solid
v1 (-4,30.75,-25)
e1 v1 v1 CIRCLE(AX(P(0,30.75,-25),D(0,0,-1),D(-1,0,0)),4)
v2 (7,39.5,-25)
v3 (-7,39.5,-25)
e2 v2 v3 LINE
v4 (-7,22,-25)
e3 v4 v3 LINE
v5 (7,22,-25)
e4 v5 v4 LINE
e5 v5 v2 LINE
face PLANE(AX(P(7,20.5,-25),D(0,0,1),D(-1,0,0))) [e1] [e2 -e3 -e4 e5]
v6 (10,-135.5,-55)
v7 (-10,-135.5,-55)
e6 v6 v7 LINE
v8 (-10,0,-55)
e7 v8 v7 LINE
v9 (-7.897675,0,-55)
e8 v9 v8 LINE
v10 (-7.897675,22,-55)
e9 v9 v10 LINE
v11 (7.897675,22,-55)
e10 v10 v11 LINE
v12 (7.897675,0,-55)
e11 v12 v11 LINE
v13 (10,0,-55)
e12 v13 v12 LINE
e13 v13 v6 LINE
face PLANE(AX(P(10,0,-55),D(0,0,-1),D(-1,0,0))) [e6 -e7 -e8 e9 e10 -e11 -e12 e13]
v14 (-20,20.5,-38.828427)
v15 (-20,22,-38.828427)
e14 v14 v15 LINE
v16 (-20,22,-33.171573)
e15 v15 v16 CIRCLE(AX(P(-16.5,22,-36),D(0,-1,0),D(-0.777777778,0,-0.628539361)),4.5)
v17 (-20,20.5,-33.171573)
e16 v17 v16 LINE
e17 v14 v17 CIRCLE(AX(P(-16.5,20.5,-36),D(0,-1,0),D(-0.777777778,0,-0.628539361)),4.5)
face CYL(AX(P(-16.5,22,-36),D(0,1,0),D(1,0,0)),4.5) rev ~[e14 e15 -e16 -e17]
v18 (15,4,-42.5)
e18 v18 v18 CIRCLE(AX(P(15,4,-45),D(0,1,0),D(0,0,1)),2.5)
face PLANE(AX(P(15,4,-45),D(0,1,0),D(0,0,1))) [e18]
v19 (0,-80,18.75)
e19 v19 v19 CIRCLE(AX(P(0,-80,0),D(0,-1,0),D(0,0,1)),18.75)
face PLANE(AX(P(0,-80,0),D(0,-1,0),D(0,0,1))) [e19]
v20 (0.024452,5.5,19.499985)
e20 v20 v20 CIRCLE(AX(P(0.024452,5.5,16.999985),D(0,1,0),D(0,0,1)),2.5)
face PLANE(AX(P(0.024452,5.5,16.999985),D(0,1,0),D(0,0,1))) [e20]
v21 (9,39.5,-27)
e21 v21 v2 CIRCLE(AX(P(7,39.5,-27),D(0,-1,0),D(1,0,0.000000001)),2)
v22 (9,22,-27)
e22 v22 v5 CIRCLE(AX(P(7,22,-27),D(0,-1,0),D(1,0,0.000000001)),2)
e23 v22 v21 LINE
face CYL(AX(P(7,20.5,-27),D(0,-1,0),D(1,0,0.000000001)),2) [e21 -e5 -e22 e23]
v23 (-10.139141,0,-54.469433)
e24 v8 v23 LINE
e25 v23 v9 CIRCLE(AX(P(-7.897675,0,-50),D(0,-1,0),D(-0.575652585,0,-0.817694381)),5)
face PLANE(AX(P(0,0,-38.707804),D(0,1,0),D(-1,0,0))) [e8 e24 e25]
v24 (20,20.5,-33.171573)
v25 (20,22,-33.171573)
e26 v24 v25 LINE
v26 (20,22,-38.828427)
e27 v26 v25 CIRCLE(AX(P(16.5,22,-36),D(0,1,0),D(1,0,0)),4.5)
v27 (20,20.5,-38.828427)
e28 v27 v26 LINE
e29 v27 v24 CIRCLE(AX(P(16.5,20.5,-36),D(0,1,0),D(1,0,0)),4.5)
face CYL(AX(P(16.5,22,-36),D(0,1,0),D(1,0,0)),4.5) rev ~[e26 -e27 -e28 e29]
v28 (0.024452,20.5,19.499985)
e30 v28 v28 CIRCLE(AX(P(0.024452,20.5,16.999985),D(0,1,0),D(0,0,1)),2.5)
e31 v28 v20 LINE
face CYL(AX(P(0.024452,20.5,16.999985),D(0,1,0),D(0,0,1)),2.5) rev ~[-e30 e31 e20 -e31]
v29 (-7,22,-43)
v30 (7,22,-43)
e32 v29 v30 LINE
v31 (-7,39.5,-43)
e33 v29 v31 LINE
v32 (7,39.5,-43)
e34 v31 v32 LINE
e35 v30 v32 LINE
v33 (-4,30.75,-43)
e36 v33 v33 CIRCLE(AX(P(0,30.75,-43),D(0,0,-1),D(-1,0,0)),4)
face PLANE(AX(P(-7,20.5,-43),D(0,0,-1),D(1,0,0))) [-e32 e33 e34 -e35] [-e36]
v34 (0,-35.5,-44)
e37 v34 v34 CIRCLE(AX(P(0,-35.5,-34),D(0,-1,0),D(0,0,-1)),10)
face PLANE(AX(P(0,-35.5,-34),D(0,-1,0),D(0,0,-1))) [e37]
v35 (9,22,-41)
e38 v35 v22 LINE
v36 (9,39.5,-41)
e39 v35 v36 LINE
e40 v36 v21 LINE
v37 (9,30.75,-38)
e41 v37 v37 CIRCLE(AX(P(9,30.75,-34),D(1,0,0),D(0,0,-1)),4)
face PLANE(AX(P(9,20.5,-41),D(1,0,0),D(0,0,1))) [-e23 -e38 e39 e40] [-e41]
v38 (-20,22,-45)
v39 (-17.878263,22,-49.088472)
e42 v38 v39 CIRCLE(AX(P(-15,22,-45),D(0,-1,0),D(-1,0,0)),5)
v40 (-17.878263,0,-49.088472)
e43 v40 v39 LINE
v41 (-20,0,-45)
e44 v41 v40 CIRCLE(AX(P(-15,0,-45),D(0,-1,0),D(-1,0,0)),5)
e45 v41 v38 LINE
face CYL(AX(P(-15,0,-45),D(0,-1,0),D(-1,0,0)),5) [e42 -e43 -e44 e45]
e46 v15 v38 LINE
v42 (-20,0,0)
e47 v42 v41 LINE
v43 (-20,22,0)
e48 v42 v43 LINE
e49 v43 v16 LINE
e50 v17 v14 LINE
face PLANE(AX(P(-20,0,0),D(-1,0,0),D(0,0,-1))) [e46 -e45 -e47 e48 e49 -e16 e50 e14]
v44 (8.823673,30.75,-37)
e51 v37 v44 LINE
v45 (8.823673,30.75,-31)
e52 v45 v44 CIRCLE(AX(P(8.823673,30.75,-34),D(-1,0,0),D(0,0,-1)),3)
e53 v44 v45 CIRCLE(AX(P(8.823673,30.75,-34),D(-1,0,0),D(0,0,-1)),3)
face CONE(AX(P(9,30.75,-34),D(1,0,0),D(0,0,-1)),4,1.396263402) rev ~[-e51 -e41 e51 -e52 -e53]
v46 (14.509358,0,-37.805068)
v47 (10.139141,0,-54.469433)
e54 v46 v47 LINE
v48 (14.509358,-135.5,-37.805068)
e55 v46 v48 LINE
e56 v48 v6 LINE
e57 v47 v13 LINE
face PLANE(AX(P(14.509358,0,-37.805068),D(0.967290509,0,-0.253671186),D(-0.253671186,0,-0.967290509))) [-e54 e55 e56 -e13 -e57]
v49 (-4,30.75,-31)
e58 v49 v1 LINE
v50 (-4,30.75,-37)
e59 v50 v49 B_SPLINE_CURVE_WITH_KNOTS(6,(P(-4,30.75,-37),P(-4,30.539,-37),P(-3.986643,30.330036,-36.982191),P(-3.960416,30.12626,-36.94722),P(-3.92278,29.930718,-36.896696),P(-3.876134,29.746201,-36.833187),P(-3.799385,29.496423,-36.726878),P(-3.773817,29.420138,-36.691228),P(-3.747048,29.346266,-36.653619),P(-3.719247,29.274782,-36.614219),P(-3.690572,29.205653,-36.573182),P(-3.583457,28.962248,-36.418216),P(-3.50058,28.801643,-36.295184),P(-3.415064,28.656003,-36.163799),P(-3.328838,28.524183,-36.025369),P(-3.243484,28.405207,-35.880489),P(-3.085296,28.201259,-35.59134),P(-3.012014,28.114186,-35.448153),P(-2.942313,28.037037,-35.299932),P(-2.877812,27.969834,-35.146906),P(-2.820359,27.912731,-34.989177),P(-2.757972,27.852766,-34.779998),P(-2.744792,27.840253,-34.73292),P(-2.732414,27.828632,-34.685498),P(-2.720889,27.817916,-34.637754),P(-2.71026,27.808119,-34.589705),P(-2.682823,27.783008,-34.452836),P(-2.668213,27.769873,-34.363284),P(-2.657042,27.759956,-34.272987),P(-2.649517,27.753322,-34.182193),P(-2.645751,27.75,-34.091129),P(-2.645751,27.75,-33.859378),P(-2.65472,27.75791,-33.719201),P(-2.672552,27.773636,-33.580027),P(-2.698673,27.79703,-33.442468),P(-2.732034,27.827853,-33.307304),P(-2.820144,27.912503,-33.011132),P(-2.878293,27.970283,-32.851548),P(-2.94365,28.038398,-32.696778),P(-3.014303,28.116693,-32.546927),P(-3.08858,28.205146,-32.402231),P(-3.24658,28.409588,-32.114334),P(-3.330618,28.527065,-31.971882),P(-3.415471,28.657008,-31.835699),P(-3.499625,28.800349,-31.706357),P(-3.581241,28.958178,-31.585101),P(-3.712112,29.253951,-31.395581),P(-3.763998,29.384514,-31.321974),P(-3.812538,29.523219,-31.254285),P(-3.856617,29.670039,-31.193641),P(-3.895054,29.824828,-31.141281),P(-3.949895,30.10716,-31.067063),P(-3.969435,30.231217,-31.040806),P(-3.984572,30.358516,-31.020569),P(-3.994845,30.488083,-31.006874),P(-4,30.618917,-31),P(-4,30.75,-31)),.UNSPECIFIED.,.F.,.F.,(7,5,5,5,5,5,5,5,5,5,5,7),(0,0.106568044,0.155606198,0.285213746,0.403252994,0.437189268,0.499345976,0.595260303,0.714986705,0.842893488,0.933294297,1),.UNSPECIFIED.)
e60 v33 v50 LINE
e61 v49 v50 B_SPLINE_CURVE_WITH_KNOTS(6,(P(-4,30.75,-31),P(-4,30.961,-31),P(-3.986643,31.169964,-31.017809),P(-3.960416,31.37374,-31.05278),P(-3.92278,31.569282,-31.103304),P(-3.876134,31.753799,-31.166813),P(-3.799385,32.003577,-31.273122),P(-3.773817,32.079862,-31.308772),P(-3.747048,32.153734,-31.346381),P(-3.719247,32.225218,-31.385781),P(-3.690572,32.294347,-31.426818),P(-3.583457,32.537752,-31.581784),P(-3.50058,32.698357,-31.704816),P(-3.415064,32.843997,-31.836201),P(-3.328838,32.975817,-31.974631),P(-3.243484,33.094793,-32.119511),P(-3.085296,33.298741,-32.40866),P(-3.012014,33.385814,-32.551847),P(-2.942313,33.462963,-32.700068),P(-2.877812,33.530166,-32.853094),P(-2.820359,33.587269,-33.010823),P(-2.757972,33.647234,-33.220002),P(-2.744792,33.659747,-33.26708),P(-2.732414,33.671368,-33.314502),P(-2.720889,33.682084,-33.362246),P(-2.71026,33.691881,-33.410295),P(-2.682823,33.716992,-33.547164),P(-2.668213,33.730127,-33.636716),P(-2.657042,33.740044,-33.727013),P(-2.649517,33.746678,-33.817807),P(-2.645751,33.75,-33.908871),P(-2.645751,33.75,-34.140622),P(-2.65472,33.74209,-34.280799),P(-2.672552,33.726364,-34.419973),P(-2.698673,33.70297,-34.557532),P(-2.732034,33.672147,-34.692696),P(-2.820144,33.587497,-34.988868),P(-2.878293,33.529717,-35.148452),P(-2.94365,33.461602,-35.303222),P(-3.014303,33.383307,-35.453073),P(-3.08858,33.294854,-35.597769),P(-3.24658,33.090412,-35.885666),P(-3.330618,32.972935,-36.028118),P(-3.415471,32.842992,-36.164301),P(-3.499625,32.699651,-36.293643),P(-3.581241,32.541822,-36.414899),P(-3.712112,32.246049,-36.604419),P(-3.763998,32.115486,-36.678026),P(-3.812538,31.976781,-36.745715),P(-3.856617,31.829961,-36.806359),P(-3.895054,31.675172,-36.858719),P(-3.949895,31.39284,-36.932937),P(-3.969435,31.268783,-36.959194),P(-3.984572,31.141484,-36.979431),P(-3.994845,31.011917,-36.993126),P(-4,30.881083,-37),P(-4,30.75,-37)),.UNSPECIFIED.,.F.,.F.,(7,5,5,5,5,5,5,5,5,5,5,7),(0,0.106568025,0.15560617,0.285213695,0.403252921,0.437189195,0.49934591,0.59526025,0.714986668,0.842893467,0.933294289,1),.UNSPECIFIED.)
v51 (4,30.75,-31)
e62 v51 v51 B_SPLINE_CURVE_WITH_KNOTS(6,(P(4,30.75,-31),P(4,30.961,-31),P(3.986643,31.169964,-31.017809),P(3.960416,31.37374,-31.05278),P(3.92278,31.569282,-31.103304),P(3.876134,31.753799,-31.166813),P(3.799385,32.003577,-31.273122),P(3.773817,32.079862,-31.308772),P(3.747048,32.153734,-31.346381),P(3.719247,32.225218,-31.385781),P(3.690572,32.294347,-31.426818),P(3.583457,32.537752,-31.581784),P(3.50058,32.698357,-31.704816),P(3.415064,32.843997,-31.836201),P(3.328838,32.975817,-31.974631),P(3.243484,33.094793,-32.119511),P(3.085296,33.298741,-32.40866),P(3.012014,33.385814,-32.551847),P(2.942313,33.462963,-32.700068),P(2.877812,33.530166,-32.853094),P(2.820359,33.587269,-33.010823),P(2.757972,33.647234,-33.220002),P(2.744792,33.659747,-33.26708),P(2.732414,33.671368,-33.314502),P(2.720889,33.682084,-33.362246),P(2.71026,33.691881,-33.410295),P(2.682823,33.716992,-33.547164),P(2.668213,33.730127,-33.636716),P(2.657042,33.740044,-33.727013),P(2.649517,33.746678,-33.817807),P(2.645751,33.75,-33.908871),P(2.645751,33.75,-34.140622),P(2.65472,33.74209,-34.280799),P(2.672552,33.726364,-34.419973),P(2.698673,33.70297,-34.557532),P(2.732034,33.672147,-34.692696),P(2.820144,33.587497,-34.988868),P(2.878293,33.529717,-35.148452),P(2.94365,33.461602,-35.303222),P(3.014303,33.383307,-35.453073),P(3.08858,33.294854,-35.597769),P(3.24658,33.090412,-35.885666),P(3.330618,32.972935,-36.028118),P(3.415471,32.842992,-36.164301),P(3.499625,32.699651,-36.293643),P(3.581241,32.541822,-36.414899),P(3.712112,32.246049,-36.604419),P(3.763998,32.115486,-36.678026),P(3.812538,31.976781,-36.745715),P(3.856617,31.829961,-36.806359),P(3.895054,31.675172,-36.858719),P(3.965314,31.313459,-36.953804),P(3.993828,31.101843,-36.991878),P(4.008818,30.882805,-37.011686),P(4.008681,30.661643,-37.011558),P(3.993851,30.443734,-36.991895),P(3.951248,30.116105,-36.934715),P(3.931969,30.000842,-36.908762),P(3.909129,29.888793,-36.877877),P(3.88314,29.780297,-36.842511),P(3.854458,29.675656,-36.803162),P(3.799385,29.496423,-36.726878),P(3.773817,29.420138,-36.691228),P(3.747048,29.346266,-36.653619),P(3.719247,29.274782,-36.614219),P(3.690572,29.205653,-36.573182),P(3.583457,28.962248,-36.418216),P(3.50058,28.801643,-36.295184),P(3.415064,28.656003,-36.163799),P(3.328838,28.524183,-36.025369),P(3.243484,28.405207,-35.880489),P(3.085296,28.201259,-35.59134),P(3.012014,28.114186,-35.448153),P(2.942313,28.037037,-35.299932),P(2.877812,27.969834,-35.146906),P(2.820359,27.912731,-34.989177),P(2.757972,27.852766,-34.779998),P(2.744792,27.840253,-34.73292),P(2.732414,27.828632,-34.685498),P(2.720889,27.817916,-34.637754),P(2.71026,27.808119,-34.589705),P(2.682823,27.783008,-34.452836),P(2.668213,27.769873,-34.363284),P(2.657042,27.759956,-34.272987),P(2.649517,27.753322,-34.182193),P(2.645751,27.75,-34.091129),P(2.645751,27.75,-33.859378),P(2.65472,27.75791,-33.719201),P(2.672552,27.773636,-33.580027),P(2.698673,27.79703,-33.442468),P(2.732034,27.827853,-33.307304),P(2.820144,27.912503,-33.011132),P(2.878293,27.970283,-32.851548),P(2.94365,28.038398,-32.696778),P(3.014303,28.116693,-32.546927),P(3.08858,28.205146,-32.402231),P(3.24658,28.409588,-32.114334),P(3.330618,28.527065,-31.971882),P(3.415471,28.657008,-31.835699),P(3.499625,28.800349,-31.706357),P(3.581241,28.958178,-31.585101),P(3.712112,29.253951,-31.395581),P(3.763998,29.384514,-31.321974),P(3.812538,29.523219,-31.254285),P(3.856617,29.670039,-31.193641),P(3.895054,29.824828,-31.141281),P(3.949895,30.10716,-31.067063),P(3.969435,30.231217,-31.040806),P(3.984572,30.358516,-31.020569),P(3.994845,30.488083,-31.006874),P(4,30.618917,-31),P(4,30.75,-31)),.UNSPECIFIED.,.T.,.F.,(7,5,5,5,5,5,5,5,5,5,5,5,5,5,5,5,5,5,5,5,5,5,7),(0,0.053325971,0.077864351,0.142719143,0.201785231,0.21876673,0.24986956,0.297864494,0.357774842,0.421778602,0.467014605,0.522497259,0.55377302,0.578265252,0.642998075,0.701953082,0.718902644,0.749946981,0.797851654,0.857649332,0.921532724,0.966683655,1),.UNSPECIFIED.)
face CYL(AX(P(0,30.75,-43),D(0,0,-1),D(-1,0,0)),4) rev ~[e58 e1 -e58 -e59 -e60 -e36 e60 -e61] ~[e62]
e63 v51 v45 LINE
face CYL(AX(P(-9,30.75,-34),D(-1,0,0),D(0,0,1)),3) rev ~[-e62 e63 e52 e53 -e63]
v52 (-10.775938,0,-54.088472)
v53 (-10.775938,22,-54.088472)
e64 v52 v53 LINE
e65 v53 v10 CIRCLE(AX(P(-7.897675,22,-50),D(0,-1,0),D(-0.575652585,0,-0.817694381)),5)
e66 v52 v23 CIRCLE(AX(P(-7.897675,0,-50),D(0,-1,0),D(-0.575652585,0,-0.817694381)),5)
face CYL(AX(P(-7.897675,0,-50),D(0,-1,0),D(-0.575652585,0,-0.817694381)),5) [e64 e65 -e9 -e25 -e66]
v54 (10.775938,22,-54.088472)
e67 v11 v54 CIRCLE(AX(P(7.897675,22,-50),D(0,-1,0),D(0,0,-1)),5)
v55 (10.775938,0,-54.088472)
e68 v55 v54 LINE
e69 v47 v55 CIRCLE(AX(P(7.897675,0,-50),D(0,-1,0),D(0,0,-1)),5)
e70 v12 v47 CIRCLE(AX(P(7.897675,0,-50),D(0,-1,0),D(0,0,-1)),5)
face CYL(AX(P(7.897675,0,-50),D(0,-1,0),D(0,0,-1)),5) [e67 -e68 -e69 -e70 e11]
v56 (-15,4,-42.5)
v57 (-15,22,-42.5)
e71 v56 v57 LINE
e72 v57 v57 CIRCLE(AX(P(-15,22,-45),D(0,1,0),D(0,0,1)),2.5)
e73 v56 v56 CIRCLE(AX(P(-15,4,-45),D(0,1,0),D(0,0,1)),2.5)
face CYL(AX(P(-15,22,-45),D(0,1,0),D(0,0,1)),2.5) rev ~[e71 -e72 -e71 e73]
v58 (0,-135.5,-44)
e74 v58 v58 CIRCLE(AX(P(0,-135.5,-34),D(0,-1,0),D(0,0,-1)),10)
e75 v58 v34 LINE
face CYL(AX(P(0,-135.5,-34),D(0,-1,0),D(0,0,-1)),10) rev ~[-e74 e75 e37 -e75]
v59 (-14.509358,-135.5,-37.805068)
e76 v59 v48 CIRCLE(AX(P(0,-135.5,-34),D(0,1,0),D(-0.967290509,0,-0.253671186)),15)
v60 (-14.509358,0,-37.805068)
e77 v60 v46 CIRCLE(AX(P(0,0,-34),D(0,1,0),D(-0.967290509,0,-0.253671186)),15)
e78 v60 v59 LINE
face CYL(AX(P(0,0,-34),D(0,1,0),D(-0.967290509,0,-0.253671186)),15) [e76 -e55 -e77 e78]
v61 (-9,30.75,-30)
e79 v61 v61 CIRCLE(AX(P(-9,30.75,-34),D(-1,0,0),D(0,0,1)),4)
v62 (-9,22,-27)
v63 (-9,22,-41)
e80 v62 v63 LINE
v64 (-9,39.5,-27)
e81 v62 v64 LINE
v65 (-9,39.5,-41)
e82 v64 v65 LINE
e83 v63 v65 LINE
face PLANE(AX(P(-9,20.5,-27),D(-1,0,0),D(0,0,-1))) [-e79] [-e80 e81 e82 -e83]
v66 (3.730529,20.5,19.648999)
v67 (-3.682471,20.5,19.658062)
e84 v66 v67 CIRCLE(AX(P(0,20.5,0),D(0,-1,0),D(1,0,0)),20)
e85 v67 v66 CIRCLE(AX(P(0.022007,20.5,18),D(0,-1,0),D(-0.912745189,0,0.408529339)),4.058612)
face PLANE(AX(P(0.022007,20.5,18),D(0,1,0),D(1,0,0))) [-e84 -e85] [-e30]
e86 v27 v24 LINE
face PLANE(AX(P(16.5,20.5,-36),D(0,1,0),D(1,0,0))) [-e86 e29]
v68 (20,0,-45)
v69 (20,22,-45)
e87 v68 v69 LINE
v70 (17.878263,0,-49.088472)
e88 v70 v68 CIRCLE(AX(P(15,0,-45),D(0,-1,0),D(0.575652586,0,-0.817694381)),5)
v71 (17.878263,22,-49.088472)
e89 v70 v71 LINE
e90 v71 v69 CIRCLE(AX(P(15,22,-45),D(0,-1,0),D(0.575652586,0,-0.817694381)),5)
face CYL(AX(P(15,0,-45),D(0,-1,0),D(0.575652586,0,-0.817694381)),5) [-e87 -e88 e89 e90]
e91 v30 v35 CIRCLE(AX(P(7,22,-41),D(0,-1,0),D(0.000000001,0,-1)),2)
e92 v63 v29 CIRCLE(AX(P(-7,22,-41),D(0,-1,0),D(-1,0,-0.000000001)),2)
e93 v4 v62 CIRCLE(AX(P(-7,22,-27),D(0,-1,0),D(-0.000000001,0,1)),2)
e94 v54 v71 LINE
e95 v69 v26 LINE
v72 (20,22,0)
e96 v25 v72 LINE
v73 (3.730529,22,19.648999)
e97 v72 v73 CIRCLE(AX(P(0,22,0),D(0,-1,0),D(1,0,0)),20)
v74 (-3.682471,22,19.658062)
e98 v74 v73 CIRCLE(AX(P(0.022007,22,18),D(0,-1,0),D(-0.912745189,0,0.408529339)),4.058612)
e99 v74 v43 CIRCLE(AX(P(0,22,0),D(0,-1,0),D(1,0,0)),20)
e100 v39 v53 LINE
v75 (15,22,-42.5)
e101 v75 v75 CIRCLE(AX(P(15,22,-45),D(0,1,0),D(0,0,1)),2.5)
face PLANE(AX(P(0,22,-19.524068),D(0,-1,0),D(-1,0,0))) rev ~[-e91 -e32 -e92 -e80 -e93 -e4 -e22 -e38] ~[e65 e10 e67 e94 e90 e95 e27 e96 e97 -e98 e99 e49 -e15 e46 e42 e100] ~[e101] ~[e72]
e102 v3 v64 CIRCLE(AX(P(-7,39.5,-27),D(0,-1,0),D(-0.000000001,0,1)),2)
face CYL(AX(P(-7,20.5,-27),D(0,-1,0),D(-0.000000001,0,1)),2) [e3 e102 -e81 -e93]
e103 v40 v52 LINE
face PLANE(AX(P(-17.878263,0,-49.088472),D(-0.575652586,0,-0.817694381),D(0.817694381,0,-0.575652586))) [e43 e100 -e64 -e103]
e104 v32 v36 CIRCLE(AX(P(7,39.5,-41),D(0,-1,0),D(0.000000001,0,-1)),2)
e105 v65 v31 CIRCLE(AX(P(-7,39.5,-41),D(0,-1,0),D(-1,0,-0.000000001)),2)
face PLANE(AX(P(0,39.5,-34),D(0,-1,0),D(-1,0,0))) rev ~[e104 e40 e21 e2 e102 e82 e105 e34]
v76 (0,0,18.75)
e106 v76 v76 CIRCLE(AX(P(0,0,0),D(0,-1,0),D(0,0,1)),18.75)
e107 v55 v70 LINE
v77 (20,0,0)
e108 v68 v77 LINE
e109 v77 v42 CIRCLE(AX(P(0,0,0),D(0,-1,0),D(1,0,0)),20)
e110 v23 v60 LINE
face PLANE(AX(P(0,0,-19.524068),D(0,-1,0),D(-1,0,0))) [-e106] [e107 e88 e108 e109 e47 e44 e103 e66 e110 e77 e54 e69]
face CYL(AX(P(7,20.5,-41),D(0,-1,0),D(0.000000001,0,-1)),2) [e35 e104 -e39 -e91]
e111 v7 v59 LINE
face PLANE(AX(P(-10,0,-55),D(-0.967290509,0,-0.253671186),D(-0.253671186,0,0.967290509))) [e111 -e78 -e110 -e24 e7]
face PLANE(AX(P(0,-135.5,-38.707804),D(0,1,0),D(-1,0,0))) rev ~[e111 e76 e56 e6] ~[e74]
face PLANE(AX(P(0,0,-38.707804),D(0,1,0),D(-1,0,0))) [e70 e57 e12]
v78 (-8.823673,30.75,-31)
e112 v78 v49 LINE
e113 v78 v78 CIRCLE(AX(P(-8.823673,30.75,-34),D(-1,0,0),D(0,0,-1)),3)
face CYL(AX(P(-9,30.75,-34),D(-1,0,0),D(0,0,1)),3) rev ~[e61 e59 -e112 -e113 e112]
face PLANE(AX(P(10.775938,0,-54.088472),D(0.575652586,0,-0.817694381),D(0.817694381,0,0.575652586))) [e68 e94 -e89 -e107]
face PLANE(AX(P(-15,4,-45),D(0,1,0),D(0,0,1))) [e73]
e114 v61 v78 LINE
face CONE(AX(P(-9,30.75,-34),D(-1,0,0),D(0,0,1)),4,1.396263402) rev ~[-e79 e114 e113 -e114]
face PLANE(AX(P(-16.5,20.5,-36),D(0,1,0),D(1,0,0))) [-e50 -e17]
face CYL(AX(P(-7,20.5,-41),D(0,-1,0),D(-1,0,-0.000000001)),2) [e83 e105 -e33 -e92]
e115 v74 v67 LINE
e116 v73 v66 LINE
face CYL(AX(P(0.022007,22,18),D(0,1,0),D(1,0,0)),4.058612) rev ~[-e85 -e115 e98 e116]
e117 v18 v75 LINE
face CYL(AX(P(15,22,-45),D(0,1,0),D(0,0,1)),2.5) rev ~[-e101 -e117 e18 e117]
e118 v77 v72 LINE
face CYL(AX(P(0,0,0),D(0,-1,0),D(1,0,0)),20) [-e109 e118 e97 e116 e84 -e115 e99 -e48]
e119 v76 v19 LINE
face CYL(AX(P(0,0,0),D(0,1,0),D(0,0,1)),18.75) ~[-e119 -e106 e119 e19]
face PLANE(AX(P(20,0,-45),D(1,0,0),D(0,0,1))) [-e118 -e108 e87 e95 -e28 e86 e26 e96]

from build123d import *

# Parameters (mm, degrees)
SALIENTE_EXTRUIR1_DEPTH  = 22
CROQUIS3_R               = 2.5
CROQUIS3_R_2             = 4.5
CORTAR_EXTRUIR2_DEPTH    = 1.5
CROQUIS4_R               = 2.5
CORTAR_EXTRUIR3_DEPTH    = 18
CROQUIS5_R               = 4.05861195
CORTAR_EXTRUIR4_DEPTH    = 1.5
CROQUIS6_R               = 2.5
CORTAR_EXTRUIR5_DEPTH    = 15
SALIENTE_EXTRUIR2_DEPTH  = 19
CROQUIS8_R               = 3
CORTAR_EXTRUIR7_DEPTH    = 19
CROQUIS9_R               = 4
CORTAR_EXTRUIR10_DEPTH   = 0.5
CORTAR_EXTRUIR10_DRAFT   = -80
CROQUIS10_R              = 4
CORTAR_EXTRUIR11_DEPTH   = 0.5
CORTAR_EXTRUIR11_DRAFT   = -80
SALIENTE_EXTRUIR3_DEPTH  = 135.5
CROQUIS12_R              = 10
CORTAR_EXTRUIR12_DEPTH   = 100
CROQUIS15_R              = 18.75
SALIENTE_EXTRUIR10_DEPTH = 80
CROQUIS16_R              = 4
CORTAR_EXTRUIR13_DEPTH   = 151.762230018


with BuildPart() as part:
    # Croquis2 → Saliente-Extruir1 (new body)
    with BuildSketch(Plane(origin=(0, 0, 0), x_dir=(1, 0, 0), z_dir=(0, 1, 0))):
        with BuildLine():
            Line((-17.878262929, 49.088471905), (-10.775937662, 54.088471905))
            ThreePointArc((-10.775937662, 54.088471905), (-9.407250911, 54.766673868), (-7.897674733, 55))
            Line((-7.897674733, 55), (7.897674733, 55))
            ThreePointArc((7.897674733, 55), (9.407250911, 54.766673868), (10.775937662, 54.088471905))
            Line((10.775937662, 54.088471905), (17.878262929, 49.088471905))
            ThreePointArc((17.878262929, 49.088471905), (19.437978968, 47.303115863), (20, 45))
            Line((20, 45), (20, 0))
            ThreePointArc((20, 0), (0, -20), (-20, 0))
            Line((-20, 0), (-20, 45))
            ThreePointArc((-20, 45), (-19.437978968, 47.303115863), (-17.878262929, 49.088471905))
        make_face()
    extrude(amount=SALIENTE_EXTRUIR1_DEPTH)

    # Croquis3 → Cortar-Extruir2 (cut)
    with BuildSketch(Plane(origin=(0, 22, 0), x_dir=(1, 0, 0), z_dir=(0, 1, 0))):
        with Locations(Location((-15, 45, 0), (0, 0, 270))):
            Circle(CROQUIS3_R)
        with Locations(Location((15, 45, 0), (0, 0, 270))):
            Circle(CROQUIS3_R)
        with Locations((-16.5, 36)):
            Circle(CROQUIS3_R_2)
        with Locations((16.5, 36)):
            Circle(CROQUIS3_R_2)
    extrude(amount=-CORTAR_EXTRUIR2_DEPTH, mode=Mode.SUBTRACT)

    # Croquis4 → Cortar-Extruir3 (cut)
    with BuildSketch(Plane(origin=(0, 22, 0), x_dir=(1, 0, 0), z_dir=(0, 1, 0))):
        with Locations(Location((-15, 45, 0), (0, 0, 270))):
            Circle(CROQUIS4_R)
        with Locations(Location((15, 45, 0), (0, 0, 270))):
            Circle(CROQUIS4_R)
    extrude(amount=-CORTAR_EXTRUIR3_DEPTH, mode=Mode.SUBTRACT)

    # Croquis5 → Cortar-Extruir4 (cut)
    with BuildSketch(Plane(origin=(0, 22, 0), x_dir=(1, 0, 0), z_dir=(0, 1, 0))):
        with Locations((0.022007055, -18)):
            Circle(CROQUIS5_R)
    extrude(amount=-CORTAR_EXTRUIR4_DEPTH, mode=Mode.SUBTRACT)

    # Croquis6 → Cortar-Extruir5 (cut)
    with BuildSketch(Plane(origin=(0, 20.5, 0), x_dir=(1, 0, 0), z_dir=(0, 1, 0))):
        with Locations(Location((0.024452265, -16.999985052, 0), (0, 0, 270))):
            Circle(CROQUIS6_R)
    extrude(amount=-CORTAR_EXTRUIR5_DEPTH, mode=Mode.SUBTRACT)

    # Croquis7 → Saliente-Extruir2 (add)
    with BuildSketch(Plane(origin=(0, 20.5, 0), x_dir=(1, 0, 0), z_dir=(0, 1, 0))):
        with BuildLine():
            Line((7, 25), (-7, 25))
            ThreePointArc((-7, 25), (-8.414213562, 25.585786438), (-9, 27))
            Line((-9, 27), (-9, 41))
            ThreePointArc((-9, 41), (-8.414213562, 42.414213562), (-7, 43))
            Line((-7, 43), (7, 43))
            ThreePointArc((7, 43), (8.414213562, 42.414213562), (9, 41))
            Line((9, 41), (9, 27))
            ThreePointArc((9, 27), (8.414213562, 25.585786438), (7, 25))
        make_face()
    extrude(amount=SALIENTE_EXTRUIR2_DEPTH)

    # Croquis8 → Cortar-Extruir7 (cut)
    with BuildSketch(Plane.ZY.offset(9)):
        with Locations((-34, 30.75)):
            Circle(CROQUIS8_R)
    extrude(amount=-CORTAR_EXTRUIR7_DEPTH, mode=Mode.SUBTRACT)


with BuildPart() as cortar_extruir10_tool:
    # Croquis9 → Cortar-Extruir10 (with draft: the straight prism first)
    with BuildSketch(Plane.ZY.offset(9)):
        with Locations((-34, 30.75)):
            Circle(CROQUIS9_R)
    extrude(amount=-CORTAR_EXTRUIR10_DEPTH)
    # Cortar-Extruir10: the draft: its side faces are tilted about the plane it starts from
    cortar_extruir10_sides = [cortar_extruir10_tool.faces().sort_by_distance(p)[0] for p in [
        (-8.75, 30.75, -38),
    ]]
    draft(cortar_extruir10_sides, Plane.ZY.offset(9), CORTAR_EXTRUIR10_DRAFT)


with BuildPart() as part_1:
    add(part.part)

    # Cortar-Extruir10: cut by cortar_extruir10_tool
    add(cortar_extruir10_tool.part, mode=Mode.SUBTRACT)


with BuildPart() as cortar_extruir11_tool:
    # Croquis10 → Cortar-Extruir11 (with draft: the straight prism first)
    with BuildSketch(Plane(origin=(9, 0, 0), x_dir=(0, 0, -1), z_dir=(1, 0, 0))):
        with Locations((34, 30.75)):
            Circle(CROQUIS10_R)
    extrude(amount=-CORTAR_EXTRUIR11_DEPTH)
    # Cortar-Extruir11: the draft: its side faces are tilted about the plane it starts from
    cortar_extruir11_sides = [cortar_extruir11_tool.faces().sort_by_distance(p)[0] for p in [
        (8.75, 30.75, -30),
    ]]
    draft(cortar_extruir11_sides, Plane(origin=(9, 0, 0), x_dir=(0, 0, -1), z_dir=(1, 0, 0)), CORTAR_EXTRUIR11_DRAFT)


with BuildPart() as part_2:
    add(part_1.part)

    # Cortar-Extruir11: cut by cortar_extruir11_tool
    add(cortar_extruir11_tool.part, mode=Mode.SUBTRACT)

    # Croquis11 → Saliente-Extruir3 (add)
    with BuildSketch(Plane.XZ):
        with BuildLine():
            Line((-10, -55), (-14.509357639, -37.805067791))
            ThreePointArc((-14.509357639, -37.805067791), (0, -19), (14.509357639, -37.805067791))
            Line((14.509357639, -37.805067791), (10, -55))
            Line((10, -55), (-10, -55))
        make_face()
    extrude(amount=SALIENTE_EXTRUIR3_DEPTH)

    # Croquis12 → Cortar-Extruir12 (cut)
    with BuildSketch(Plane.XZ.offset(135.5)):
        with Locations(Location((0, -34, 0), (0, 0, 270))):
            Circle(CROQUIS12_R)
    extrude(amount=-CORTAR_EXTRUIR12_DEPTH, mode=Mode.SUBTRACT)

    # Croquis15 → Saliente-Extruir10 (add)
    with BuildSketch(Plane.XZ):
        with Locations(Location((0, 0, 0), (0, 0, 90))):
            Circle(CROQUIS15_R)
    extrude(amount=SALIENTE_EXTRUIR10_DEPTH)

    # Croquis16 → Cortar-Extruir13 (cut, through all)
    with BuildSketch(Plane(origin=(0, 0, -43), x_dir=(-1, 0, 0), z_dir=(0, 0, -1))):
        with Locations((0, 30.75)):
            Circle(CROQUIS16_R)
    extrude(amount=-CORTAR_EXTRUIR13_DEPTH, mode=Mode.SUBTRACT)


solid = part_2.part
